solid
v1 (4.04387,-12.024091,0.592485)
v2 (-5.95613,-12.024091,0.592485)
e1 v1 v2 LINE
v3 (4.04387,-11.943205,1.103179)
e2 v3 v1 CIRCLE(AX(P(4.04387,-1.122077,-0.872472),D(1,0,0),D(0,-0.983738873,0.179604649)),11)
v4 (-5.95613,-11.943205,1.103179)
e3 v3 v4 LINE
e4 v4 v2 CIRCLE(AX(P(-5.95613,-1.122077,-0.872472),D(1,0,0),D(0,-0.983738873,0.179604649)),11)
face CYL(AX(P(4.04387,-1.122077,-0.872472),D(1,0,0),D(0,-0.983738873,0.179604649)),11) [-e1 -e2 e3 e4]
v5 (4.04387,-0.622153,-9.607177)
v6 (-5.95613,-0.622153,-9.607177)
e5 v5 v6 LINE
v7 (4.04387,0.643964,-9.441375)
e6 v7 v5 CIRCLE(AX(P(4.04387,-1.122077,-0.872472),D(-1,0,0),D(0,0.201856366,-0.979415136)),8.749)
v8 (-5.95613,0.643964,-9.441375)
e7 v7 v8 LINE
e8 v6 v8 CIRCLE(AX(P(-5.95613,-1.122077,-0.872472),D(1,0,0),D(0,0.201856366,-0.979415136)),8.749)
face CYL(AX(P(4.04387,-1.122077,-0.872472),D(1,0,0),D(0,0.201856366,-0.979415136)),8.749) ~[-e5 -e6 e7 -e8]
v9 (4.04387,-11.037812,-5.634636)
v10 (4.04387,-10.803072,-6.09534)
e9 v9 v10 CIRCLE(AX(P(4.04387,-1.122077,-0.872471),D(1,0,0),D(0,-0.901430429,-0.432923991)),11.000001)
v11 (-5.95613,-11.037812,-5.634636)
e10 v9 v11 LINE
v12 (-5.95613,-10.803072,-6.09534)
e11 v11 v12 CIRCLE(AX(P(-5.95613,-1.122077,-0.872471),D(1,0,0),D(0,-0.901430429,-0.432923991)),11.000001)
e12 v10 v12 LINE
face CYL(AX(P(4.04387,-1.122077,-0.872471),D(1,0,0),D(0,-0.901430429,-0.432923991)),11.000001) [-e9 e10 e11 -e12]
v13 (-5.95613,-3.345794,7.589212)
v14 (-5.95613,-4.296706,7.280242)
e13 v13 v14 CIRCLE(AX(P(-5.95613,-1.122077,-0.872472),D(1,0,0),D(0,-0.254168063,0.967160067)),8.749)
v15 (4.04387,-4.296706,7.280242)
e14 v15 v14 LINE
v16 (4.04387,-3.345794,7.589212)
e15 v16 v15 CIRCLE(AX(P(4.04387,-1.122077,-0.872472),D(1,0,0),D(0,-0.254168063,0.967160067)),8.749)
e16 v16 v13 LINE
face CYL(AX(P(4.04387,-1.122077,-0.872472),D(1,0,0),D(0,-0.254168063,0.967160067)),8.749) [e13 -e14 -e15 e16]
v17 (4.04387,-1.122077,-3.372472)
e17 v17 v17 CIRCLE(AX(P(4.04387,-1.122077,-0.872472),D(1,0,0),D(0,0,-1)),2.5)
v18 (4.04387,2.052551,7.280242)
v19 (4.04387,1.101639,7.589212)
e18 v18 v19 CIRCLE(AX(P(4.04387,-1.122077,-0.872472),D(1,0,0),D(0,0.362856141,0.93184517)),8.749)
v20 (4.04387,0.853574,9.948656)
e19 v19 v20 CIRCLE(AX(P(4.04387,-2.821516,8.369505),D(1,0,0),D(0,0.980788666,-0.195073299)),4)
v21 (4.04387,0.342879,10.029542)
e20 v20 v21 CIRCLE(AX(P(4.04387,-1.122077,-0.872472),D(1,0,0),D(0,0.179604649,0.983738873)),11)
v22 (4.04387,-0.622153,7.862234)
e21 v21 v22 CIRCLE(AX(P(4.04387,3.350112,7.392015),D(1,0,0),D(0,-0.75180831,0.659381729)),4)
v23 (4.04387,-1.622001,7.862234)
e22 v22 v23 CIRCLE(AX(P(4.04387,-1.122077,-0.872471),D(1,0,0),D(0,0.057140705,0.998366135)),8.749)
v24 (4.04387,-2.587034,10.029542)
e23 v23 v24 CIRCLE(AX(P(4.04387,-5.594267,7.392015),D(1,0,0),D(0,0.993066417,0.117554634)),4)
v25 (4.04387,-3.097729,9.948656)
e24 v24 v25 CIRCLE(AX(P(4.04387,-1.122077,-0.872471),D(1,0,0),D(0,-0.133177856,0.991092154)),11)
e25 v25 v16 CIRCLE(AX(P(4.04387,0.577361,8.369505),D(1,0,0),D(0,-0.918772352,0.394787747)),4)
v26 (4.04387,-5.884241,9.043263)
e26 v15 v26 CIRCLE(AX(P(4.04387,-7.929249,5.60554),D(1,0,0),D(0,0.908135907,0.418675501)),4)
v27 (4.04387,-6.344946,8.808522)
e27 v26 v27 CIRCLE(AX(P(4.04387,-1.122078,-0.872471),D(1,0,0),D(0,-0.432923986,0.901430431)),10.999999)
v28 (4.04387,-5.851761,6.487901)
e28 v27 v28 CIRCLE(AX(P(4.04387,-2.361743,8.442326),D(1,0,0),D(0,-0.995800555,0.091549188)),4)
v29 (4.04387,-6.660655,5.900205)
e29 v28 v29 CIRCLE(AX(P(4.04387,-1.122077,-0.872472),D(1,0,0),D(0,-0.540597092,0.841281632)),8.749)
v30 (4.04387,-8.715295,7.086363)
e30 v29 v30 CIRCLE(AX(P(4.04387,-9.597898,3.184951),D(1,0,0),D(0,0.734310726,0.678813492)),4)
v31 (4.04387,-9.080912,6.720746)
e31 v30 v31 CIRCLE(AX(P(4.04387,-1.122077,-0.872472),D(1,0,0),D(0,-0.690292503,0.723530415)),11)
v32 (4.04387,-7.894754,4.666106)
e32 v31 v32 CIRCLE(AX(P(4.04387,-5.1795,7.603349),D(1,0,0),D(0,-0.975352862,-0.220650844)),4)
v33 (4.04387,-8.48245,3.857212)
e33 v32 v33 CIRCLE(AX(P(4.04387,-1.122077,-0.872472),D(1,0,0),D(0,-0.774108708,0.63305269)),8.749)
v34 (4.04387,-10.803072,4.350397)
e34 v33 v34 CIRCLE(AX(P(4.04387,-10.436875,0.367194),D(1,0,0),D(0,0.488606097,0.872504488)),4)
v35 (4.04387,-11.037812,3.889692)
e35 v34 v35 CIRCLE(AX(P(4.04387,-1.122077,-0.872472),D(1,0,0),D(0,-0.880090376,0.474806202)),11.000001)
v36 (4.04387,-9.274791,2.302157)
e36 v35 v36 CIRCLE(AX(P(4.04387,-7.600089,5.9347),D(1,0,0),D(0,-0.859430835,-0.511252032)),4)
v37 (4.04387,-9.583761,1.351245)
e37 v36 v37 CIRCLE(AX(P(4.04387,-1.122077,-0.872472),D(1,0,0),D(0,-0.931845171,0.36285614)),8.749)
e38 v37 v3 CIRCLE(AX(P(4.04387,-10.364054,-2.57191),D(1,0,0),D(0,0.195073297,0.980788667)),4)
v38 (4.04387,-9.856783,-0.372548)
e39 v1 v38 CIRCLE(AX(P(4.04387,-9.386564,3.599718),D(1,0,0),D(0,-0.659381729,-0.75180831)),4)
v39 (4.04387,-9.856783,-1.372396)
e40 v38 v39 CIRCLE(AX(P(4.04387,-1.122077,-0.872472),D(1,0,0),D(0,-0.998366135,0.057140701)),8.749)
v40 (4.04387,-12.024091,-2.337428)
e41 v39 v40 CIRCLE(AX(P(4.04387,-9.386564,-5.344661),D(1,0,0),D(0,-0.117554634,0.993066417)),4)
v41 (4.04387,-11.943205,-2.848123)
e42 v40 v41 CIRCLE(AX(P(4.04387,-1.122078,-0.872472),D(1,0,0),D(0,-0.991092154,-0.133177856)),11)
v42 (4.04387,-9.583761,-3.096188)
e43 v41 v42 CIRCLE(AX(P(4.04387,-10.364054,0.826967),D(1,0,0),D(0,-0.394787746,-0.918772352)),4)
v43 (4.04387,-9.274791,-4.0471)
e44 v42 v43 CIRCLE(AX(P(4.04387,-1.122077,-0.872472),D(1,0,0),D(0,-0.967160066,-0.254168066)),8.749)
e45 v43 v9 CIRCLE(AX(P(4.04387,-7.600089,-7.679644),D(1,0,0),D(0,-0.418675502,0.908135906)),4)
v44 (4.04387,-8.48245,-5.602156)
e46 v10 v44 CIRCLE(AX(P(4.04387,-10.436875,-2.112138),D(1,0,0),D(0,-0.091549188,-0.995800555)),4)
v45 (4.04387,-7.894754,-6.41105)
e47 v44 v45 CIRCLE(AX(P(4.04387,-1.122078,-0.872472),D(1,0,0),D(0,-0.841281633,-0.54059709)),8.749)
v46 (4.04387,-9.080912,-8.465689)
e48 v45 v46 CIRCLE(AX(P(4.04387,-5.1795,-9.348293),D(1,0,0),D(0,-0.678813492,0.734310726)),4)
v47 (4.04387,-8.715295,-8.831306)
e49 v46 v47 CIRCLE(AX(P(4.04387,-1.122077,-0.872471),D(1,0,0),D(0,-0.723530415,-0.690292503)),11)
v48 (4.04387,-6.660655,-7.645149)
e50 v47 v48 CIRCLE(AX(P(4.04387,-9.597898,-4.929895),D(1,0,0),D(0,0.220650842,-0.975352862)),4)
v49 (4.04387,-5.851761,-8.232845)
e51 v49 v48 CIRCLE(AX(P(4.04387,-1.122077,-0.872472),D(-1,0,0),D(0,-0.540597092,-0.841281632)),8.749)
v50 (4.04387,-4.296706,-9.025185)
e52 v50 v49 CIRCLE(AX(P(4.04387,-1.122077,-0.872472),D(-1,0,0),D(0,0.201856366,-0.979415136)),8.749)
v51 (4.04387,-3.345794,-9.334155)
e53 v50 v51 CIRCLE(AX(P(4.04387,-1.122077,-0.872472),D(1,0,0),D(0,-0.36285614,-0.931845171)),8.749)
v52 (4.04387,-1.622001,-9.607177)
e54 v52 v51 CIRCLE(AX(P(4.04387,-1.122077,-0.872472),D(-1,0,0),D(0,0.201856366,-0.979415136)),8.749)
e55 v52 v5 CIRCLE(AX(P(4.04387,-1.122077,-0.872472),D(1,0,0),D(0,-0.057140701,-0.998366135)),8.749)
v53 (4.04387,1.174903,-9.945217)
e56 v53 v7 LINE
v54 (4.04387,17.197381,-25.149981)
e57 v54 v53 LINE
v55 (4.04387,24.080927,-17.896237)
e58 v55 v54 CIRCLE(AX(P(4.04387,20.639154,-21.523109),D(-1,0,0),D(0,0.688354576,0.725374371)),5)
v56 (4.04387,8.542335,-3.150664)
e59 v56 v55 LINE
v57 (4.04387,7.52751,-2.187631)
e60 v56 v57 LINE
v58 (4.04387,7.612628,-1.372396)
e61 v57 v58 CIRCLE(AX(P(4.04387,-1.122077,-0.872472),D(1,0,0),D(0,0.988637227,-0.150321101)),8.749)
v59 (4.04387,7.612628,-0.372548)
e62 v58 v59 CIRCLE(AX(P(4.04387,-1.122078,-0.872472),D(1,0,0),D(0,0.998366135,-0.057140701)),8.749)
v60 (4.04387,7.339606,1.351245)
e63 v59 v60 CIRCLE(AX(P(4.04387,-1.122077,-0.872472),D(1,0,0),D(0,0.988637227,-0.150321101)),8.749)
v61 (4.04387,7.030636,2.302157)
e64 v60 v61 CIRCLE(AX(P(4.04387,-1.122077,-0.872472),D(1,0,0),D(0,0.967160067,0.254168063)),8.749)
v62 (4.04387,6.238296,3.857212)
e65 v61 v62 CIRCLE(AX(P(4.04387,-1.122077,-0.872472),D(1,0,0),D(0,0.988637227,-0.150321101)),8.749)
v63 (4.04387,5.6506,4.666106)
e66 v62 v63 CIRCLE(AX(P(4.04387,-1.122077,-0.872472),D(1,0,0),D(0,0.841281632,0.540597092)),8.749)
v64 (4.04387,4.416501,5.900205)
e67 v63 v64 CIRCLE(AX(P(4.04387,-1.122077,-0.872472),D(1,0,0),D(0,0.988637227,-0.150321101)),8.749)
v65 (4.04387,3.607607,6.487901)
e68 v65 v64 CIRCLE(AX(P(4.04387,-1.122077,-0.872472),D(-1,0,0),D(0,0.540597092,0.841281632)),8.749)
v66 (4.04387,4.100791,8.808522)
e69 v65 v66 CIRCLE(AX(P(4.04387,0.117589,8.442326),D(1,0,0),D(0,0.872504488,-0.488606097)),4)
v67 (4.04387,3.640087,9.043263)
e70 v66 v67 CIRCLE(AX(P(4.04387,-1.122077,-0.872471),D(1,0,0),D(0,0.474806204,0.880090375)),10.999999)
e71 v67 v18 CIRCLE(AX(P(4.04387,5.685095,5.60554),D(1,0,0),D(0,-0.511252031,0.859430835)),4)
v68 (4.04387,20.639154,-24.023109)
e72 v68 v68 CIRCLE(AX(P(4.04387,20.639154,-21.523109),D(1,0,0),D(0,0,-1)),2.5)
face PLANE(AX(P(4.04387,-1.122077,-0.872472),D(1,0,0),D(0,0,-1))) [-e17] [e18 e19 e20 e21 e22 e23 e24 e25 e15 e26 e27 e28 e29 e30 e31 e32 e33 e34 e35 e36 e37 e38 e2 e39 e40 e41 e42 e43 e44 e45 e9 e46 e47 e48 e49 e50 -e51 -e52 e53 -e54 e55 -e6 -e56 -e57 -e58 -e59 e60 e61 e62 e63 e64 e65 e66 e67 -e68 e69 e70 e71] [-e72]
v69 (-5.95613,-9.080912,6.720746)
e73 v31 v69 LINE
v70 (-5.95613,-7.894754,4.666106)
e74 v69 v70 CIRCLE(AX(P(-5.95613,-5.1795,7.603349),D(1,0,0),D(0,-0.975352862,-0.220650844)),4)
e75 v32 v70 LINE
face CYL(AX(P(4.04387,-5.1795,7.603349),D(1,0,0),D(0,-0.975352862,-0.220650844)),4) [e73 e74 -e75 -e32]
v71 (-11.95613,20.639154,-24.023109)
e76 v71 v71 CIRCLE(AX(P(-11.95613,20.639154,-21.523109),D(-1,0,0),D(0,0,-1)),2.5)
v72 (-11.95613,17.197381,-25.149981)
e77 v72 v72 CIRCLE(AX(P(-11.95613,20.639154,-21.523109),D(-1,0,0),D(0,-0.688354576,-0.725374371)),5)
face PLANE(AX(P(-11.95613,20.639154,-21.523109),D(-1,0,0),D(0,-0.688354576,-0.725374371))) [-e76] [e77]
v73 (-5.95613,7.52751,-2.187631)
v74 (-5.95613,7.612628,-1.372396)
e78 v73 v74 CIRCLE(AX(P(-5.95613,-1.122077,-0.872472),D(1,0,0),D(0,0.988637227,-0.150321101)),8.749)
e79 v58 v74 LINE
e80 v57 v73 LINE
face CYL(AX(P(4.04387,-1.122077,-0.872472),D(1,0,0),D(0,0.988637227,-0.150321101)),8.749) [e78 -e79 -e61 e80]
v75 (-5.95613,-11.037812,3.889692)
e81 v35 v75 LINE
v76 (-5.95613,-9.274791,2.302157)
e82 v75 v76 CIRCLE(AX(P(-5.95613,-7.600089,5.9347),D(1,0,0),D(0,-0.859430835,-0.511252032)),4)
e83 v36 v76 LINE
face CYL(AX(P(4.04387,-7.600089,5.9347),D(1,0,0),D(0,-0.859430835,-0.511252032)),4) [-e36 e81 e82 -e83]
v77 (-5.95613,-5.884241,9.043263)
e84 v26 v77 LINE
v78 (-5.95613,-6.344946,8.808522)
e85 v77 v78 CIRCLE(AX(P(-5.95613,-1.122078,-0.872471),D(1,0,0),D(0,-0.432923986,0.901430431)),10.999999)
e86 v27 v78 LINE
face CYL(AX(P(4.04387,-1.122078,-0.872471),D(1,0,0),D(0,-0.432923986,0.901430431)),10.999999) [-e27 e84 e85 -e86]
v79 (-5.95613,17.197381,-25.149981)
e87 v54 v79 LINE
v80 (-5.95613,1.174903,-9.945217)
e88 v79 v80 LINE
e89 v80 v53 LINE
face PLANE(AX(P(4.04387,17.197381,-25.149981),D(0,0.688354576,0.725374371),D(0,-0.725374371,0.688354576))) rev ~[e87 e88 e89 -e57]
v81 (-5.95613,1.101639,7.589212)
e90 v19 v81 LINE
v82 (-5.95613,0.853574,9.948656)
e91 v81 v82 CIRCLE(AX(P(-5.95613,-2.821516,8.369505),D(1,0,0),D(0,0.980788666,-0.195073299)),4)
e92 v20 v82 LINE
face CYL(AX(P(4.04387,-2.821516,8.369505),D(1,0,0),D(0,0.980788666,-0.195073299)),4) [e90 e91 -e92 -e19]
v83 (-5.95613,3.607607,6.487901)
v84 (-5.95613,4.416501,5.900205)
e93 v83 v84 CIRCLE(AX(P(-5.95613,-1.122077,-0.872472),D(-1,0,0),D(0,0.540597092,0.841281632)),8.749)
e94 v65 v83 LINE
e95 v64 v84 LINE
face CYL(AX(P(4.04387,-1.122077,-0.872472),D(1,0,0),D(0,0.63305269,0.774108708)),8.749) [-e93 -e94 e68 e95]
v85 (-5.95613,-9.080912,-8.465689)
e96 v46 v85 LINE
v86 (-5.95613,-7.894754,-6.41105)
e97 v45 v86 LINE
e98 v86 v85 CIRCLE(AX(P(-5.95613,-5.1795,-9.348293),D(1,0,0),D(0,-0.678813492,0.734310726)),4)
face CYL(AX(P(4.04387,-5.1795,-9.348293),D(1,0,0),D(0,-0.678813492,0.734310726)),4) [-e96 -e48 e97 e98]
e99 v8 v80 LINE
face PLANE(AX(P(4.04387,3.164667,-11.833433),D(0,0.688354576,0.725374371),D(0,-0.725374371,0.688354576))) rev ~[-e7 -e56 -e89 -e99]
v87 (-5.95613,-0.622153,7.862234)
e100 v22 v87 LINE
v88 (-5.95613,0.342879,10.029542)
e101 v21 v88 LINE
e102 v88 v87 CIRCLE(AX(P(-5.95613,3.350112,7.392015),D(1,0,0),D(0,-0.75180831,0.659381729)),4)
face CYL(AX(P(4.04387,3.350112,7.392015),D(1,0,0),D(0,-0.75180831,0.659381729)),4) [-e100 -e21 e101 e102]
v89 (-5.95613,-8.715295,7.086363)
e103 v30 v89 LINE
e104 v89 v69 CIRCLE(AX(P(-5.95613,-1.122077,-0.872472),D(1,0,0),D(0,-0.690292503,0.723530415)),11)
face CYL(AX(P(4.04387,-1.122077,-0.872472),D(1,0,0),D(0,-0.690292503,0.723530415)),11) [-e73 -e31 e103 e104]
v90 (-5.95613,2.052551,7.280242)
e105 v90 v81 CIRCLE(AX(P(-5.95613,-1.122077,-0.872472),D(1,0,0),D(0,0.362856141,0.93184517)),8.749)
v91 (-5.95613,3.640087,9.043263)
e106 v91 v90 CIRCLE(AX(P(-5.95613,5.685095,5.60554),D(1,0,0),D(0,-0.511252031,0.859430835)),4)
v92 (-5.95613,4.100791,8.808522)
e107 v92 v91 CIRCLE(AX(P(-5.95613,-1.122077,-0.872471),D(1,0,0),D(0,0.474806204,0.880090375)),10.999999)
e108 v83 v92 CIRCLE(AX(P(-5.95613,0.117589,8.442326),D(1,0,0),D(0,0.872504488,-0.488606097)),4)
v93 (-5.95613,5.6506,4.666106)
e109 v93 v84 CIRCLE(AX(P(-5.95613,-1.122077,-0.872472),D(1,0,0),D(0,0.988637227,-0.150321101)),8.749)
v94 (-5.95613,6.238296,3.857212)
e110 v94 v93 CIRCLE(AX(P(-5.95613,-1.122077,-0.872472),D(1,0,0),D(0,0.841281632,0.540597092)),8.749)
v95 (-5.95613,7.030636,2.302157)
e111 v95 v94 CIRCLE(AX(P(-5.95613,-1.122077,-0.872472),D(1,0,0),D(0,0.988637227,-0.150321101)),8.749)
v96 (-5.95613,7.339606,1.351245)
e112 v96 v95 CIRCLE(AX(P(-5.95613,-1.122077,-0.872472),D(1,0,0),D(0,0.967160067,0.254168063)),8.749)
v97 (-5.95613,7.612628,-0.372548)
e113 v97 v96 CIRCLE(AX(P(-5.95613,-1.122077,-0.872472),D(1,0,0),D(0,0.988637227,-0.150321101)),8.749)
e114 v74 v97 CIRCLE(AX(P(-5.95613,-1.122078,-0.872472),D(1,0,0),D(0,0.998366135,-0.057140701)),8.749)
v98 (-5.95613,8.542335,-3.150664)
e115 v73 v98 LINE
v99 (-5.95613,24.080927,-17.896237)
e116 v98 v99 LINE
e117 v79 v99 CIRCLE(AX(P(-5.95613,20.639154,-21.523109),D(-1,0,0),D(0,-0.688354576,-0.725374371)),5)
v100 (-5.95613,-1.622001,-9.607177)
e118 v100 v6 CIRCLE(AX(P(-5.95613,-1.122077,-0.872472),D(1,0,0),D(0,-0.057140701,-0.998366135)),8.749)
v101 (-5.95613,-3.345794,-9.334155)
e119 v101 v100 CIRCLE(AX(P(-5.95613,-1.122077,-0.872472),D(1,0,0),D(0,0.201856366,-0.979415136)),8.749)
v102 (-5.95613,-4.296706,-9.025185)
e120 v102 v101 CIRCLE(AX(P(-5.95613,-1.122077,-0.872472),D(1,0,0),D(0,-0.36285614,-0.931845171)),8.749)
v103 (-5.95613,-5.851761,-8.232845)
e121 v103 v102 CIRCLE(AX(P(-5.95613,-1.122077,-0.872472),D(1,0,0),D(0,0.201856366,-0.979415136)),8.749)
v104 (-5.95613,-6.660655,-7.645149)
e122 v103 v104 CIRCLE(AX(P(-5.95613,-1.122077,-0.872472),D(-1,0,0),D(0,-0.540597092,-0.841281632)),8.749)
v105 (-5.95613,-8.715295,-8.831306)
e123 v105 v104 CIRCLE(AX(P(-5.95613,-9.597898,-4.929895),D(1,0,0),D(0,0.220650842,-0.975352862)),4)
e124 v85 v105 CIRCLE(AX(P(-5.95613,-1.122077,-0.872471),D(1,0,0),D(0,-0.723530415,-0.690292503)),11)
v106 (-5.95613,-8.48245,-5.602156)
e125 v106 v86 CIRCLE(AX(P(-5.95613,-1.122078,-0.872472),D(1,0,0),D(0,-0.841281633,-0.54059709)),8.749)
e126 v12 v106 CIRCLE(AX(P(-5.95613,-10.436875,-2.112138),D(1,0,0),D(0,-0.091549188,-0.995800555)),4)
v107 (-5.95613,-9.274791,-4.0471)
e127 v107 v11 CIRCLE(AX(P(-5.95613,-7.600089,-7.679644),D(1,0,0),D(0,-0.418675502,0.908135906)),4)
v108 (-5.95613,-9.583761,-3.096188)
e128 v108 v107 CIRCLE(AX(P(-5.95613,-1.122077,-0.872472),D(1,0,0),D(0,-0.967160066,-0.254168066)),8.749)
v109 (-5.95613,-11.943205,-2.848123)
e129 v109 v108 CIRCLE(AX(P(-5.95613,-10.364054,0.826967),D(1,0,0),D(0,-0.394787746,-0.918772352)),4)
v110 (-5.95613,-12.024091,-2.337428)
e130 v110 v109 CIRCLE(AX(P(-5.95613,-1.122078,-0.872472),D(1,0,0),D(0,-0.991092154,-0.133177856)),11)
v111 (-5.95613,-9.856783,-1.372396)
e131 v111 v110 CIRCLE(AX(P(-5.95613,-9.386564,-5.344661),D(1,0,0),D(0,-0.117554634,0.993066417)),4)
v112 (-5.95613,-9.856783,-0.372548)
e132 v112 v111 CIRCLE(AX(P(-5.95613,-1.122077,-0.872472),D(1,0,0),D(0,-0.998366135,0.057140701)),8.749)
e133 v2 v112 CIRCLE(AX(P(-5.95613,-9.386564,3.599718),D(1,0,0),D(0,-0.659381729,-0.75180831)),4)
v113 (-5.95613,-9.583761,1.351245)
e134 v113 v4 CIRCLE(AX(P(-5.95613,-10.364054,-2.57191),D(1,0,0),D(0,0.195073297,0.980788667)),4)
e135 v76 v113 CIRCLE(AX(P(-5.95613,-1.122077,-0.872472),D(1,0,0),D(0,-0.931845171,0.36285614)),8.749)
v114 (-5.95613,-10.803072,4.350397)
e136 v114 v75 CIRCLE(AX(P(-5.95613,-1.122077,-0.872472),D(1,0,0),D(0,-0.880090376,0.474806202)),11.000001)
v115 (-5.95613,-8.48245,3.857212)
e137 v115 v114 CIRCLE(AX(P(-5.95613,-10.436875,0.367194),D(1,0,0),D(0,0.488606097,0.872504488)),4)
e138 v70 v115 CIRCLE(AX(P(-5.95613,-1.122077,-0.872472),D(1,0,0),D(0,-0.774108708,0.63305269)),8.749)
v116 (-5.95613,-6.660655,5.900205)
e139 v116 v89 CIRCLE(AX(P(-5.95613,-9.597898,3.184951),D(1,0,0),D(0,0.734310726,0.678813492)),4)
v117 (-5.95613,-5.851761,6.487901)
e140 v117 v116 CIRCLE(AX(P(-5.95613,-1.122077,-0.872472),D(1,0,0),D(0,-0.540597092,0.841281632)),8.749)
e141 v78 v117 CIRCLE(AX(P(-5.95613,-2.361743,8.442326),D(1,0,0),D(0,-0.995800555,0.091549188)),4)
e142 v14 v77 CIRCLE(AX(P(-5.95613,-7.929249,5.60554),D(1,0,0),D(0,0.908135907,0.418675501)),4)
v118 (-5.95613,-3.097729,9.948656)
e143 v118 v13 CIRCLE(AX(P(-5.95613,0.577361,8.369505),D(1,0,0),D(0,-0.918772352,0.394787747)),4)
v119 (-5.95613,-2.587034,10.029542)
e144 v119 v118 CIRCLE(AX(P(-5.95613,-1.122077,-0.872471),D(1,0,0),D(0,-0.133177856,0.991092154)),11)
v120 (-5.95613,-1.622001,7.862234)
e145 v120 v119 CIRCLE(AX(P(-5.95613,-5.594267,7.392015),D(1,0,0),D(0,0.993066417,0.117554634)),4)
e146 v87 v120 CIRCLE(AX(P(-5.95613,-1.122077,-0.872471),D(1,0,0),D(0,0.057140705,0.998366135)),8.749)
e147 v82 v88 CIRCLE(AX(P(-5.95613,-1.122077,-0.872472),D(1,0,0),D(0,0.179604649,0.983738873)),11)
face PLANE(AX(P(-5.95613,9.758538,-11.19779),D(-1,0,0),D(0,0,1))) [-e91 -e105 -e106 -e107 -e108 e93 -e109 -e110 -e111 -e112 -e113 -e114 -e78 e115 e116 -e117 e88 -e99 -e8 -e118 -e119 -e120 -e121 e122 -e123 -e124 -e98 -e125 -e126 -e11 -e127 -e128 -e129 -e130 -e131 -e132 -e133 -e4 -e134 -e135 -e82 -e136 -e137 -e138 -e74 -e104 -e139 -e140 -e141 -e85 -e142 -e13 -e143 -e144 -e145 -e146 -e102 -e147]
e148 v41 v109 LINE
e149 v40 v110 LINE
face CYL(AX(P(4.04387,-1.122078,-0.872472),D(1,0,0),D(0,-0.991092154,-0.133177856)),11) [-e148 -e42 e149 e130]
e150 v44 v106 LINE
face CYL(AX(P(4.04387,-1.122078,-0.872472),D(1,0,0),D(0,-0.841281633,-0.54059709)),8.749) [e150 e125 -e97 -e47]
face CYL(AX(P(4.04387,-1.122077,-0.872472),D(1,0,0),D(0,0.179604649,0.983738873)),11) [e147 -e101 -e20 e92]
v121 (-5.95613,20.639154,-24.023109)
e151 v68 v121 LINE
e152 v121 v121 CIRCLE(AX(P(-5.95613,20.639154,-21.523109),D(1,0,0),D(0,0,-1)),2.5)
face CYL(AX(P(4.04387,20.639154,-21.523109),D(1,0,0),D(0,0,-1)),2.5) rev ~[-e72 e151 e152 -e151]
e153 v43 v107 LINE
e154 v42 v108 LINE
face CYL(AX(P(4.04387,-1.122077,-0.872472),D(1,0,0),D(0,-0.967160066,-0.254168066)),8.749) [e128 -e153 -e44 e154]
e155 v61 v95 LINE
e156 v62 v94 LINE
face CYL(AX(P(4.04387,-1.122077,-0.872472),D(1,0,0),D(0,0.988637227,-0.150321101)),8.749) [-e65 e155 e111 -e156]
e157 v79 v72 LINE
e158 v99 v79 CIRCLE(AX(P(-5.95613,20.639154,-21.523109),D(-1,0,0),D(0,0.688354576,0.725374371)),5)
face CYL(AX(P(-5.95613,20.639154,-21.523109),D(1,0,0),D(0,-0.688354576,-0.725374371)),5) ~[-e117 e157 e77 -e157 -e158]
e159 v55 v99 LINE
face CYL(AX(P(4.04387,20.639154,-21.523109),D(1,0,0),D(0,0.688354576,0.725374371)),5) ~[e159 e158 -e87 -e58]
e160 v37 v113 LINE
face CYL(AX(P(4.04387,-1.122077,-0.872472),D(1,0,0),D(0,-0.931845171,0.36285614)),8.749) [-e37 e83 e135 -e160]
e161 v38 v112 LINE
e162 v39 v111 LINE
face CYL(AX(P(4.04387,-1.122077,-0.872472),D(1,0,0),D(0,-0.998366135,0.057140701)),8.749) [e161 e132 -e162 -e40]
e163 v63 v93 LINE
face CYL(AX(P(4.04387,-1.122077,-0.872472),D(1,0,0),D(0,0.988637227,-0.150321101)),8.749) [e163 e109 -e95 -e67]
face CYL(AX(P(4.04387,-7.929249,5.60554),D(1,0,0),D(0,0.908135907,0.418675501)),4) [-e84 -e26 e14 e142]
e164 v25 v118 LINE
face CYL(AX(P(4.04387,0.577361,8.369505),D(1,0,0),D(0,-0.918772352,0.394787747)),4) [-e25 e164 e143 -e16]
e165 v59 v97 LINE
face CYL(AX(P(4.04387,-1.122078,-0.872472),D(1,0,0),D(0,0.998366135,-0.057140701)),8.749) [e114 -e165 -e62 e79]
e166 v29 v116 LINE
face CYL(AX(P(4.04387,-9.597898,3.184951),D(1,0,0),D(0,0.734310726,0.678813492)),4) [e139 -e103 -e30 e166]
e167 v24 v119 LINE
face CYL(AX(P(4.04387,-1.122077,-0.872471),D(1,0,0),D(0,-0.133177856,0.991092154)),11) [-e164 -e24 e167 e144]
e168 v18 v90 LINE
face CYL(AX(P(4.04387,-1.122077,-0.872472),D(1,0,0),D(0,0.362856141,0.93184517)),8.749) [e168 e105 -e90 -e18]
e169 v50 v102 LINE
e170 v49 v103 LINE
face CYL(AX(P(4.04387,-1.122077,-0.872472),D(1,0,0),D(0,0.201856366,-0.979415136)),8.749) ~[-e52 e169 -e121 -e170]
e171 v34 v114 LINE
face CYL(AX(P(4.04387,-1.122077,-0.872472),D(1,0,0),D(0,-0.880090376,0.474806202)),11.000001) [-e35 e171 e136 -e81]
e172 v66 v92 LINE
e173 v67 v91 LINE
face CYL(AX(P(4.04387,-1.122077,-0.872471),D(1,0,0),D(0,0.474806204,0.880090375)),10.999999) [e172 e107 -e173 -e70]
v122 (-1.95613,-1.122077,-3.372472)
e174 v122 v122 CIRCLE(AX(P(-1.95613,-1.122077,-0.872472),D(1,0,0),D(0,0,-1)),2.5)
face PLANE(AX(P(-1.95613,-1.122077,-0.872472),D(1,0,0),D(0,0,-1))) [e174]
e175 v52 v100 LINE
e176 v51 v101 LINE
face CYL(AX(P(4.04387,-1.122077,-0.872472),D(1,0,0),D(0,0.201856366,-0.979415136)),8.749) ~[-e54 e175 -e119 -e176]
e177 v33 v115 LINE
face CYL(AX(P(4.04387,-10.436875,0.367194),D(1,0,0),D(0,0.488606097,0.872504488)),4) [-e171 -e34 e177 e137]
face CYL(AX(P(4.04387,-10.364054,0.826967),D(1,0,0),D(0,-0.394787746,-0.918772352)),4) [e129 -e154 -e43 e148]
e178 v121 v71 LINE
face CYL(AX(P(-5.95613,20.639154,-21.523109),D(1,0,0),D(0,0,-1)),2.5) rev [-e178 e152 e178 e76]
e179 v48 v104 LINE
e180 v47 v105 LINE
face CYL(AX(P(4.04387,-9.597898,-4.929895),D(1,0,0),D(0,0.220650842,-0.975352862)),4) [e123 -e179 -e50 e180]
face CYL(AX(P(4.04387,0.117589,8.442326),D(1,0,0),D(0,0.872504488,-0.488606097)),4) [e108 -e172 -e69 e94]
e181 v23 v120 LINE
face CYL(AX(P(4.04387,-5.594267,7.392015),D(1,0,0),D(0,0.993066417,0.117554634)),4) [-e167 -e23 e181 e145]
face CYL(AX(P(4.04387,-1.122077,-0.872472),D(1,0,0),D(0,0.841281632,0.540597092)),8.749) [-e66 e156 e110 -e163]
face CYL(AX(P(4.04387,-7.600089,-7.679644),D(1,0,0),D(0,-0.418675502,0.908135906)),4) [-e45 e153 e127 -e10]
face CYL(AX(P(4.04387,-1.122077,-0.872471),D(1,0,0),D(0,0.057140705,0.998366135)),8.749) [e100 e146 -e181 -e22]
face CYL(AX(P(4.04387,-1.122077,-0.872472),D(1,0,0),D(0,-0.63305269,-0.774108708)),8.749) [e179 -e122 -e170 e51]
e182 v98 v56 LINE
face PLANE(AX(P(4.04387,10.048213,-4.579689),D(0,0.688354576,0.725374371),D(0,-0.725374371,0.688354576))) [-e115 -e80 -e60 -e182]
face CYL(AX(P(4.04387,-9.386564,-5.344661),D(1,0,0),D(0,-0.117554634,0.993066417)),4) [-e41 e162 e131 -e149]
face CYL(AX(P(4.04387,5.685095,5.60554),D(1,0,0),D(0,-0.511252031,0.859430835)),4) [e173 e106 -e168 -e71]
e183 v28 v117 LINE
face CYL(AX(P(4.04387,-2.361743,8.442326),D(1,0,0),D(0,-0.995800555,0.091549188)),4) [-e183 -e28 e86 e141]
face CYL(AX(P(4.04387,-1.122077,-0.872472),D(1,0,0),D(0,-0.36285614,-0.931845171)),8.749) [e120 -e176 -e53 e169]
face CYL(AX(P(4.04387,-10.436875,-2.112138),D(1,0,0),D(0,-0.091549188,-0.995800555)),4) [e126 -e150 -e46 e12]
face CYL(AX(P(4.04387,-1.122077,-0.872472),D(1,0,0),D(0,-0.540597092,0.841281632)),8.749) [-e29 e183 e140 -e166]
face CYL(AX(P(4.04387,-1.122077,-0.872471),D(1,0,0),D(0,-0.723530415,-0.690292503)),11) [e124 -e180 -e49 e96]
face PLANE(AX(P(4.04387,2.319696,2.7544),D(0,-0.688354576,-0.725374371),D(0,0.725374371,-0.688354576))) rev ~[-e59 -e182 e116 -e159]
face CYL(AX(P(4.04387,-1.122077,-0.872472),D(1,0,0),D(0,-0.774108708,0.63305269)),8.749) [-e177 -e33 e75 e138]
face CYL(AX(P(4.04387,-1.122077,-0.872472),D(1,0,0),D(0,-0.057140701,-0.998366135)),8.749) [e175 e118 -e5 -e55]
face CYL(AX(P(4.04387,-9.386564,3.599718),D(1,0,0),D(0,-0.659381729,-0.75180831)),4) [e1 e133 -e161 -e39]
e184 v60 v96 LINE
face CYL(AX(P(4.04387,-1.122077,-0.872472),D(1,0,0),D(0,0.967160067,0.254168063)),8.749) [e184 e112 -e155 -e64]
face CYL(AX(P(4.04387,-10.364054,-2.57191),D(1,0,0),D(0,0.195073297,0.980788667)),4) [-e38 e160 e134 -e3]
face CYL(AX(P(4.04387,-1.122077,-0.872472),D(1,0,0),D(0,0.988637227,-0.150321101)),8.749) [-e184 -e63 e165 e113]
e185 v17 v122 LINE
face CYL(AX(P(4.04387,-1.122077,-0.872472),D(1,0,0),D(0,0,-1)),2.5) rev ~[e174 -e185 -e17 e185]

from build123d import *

# Parameters (mm, degrees)
SKETCH1_R           = 2.5
BOSS_EXTRUDE1_DEPTH = 10
SKETCH2_R           = 2.5
BOSS_EXTRUDE2_DEPTH = 10
SKETCH3_R           = 5
SKETCH3_R_2         = 2.5
BOSS_EXTRUDE3_DEPTH = 6
SKETCH4_R           = 2.5
CUT_EXTRUDE1_DEPTH  = 6
CUT_EXTRUDE2_DEPTH  = 41.209967862


with BuildPart() as part:
    # Sketch1 → Boss-Extrude1 (new body)
    with BuildSketch(Plane(origin=(4.043870029, 0, 0), x_dir=(0, 0, -1), z_dir=(1, 0, 0))):
        with BuildLine():
            ThreePointArc((-10.029541992, 0.342879069), (-9.019080639, -0.304016541), (-7.862233613, -0.622153359))
            ThreePointArc((-7.862233613, -0.622153359), (-7.876528296, -1.122077366), (-7.862233613, -1.622001374))
            ThreePointArc((-7.862233613, -1.622001374), (-9.019080639, -1.940138191), (-10.029541992, -2.587033801))
            ThreePointArc((-10.029541992, -2.587033801), (-9.992100042, -2.842856482), (-9.948655897, -3.097728508))
            ThreePointArc((-9.948655897, -3.097728508), (-8.787748306, -3.400713063), (-7.58921172, -3.345793765))
            ThreePointArc((-7.58921172, -3.345793765), (-7.448321757, -3.82566705), (-7.280241692, -4.296705735))
            ThreePointArc((-7.280241692, -4.296705735), (-8.282158911, -4.956757219), (-9.043263028, -5.884241235))
            ThreePointArc((-9.043263028, -5.884241235), (-8.928600062, -6.115972863), (-8.808522437, -6.344945585))
            ThreePointArc((-8.808522437, -6.344945585), (-7.610806331, -6.274360846), (-6.487901298, -5.851761317))
            ThreePointArc((-6.487901298, -5.851761317), (-6.20561798, -6.264610538), (-5.90020538, -6.660655353))
            ThreePointArc((-5.90020538, -6.660655353), (-6.649118154, -7.598011066), (-7.086362862, -8.715294889))
            ThreePointArc((-7.086362862, -8.715294889), (-6.905702889, -8.900251959), (-6.720745819, -9.080911932))
            ThreePointArc((-6.720745819, -9.080911932), (-5.603461996, -8.643667224), (-4.666106283, -7.89475445))
            ThreePointArc((-4.666106283, -7.89475445), (-4.270061468, -8.20016705), (-3.857212247, -8.482450368))
            ThreePointArc((-3.857212247, -8.482450368), (-4.279811776, -9.605355401), (-4.350396515, -10.803071507))
            ThreePointArc((-4.350396515, -10.803071507), (-4.121423793, -10.923149132), (-3.889692165, -11.037812099))
            ThreePointArc((-3.889692165, -11.037812099), (-2.962208149, -10.276707981), (-2.302156665, -9.274790762))
            ThreePointArc((-2.302156665, -9.274790762), (-1.83111798, -9.442870827), (-1.351244695, -9.583760791))
            ThreePointArc((-1.351244695, -9.583760791), (-1.406163992, -10.782297376), (-1.103179437, -11.943204968))
            ThreePointArc((-1.103179437, -11.943204968), (-0.848307411, -11.986649113), (-0.592484731, -12.024091063))
            ThreePointArc((-0.592484731, -12.024091063), (0.054410879, -11.01362971), (0.372547697, -9.856782684))
            ThreePointArc((0.372547697, -9.856782684), (0.872471704, -9.871077366), (1.372395712, -9.856782684))
            ThreePointArc((1.372395712, -9.856782684), (1.690532529, -11.01362971), (2.337428139, -12.024091063))
            ThreePointArc((2.337428139, -12.024091063), (2.59325082, -11.986649113), (2.848122846, -11.943204968))
            ThreePointArc((2.848122846, -11.943204968), (3.151107401, -10.782297376), (3.096188103, -9.583760791))
            ThreePointArc((3.096188103, -9.583760791), (3.576061388, -9.442870827), (4.047100073, -9.274790762))
            ThreePointArc((4.047100073, -9.274790762), (4.707151558, -10.276707981), (5.634635573, -11.037812099))
            ThreePointArc((5.634635573, -11.037812099), (5.866367201, -10.923149132), (6.095339923, -10.803071507))
            ThreePointArc((6.095339923, -10.803071507), (6.024755184, -9.605355401), (5.602155655, -8.482450368))
            ThreePointArc((5.602155655, -8.482450368), (6.015004877, -8.20016705), (6.411049691, -7.89475445))
            ThreePointArc((6.411049691, -7.89475445), (7.348405404, -8.643667224), (8.465689227, -9.080911932))
            ThreePointArc((8.465689227, -9.080911932), (8.650646297, -8.900251959), (8.83130627, -8.715294889))
            ThreePointArc((8.83130627, -8.715294889), (8.394061563, -7.598011066), (7.645148788, -6.660655353))
            ThreePointArc((7.645148788, -6.660655353), (7.950561388, -6.264610538), (8.232844706, -5.851761317))
            ThreePointArc((8.232844706, -5.851761317), (9.355749739, -6.274360846), (10.553465846, -6.344945585))
            ThreePointArc((10.553465846, -6.344945585), (10.67354347, -6.115972863), (10.788206437, -5.884241235))
            ThreePointArc((10.788206437, -5.884241235), (10.02710232, -4.956757219), (9.0251851, -4.296705735))
            ThreePointArc((9.0251851, -4.296705735), (9.193265165, -3.82566705), (9.334155129, -3.345793765))
            ThreePointArc((9.334155129, -3.345793765), (10.532691714, -3.400713063), (11.693599306, -3.097728508))
            ThreePointArc((11.693599306, -3.097728508), (11.737043451, -2.842856482), (11.774485401, -2.587033801))
            ThreePointArc((11.774485401, -2.587033801), (10.764024048, -1.940138191), (9.607177022, -1.622001374))
            ThreePointArc((9.607177022, -1.622001374), (9.621471704, -1.122077366), (9.607177022, -0.622153359))
            ThreePointArc((9.607177022, -0.622153359), (10.764024048, -0.304016541), (11.774485401, 0.342879069))
            ThreePointArc((11.774485401, 0.342879069), (11.737043451, 0.598701749), (11.693599306, 0.853573775))
            ThreePointArc((11.693599306, 0.853573775), (10.532691714, 1.156558331), (9.334155129, 1.101639033))
            ThreePointArc((9.334155129, 1.101639033), (9.193265165, 1.581512318), (9.0251851, 2.052551003))
            ThreePointArc((9.0251851, 2.052551003), (10.02710232, 2.712602487), (10.788206437, 3.640086503))
            ThreePointArc((10.788206437, 3.640086503), (10.67354347, 3.871818131), (10.553465846, 4.100790853))
            ThreePointArc((10.553465846, 4.100790853), (9.355749739, 4.030206114), (8.232844706, 3.607606585))
            ThreePointArc((8.232844706, 3.607606585), (7.950561388, 4.020455806), (7.645148788, 4.416500621))
            ThreePointArc((7.645148788, 4.416500621), (8.394061563, 5.353856334), (8.83130627, 6.471140157))
            ThreePointArc((8.83130627, 6.471140157), (8.650646297, 6.656097227), (8.465689227, 6.8367572))
            ThreePointArc((8.465689227, 6.8367572), (7.348405404, 6.399512492), (6.411049691, 5.650599718))
            ThreePointArc((6.411049691, 5.650599718), (6.015004877, 5.956012318), (5.602155655, 6.238295636))
            ThreePointArc((5.602155655, 6.238295636), (6.024755184, 7.361200669), (6.095339923, 8.558916775))
            ThreePointArc((6.095339923, 8.558916775), (5.866367201, 8.6789944), (5.634635573, 8.793657366))
            ThreePointArc((5.634635573, 8.793657366), (4.707151558, 8.032553249), (4.047100073, 7.03063603))
            ThreePointArc((4.047100073, 7.03063603), (3.576061388, 7.198716095), (3.096188103, 7.339606058))
            ThreePointArc((3.096188103, 7.339606058), (3.151107401, 8.538142644), (2.848122846, 9.699050235))
            ThreePointArc((2.848122846, 9.699050235), (2.59325082, 9.74249438), (2.337428139, 9.779936331))
            ThreePointArc((2.337428139, 9.779936331), (1.690532529, 8.769474978), (1.372395712, 7.612627952))
            ThreePointArc((1.372395712, 7.612627952), (0.872471704, 7.626922634), (0.372547697, 7.612627952))
            ThreePointArc((0.372547697, 7.612627952), (0.054410879, 8.769474978), (-0.592484731, 9.779936331))
            ThreePointArc((-0.592484731, 9.779936331), (-0.848307411, 9.74249438), (-1.103179437, 9.699050235))
            ThreePointArc((-1.103179437, 9.699050235), (-1.406163992, 8.538142644), (-1.351244695, 7.339606058))
            ThreePointArc((-1.351244695, 7.339606058), (-1.83111798, 7.198716095), (-2.302156665, 7.03063603))
            ThreePointArc((-2.302156665, 7.03063603), (-2.962208149, 8.032553249), (-3.889692165, 8.793657366))
            ThreePointArc((-3.889692165, 8.793657366), (-4.121423793, 8.6789944), (-4.350396515, 8.558916775))
            ThreePointArc((-4.350396515, 8.558916775), (-4.279811776, 7.361200669), (-3.857212247, 6.238295636))
            ThreePointArc((-3.857212247, 6.238295636), (-4.270061468, 5.956012318), (-4.666106283, 5.650599718))
            ThreePointArc((-4.666106283, 5.650599718), (-5.603461996, 6.399512492), (-6.720745819, 6.8367572))
            ThreePointArc((-6.720745819, 6.8367572), (-6.905702889, 6.656097227), (-7.086362862, 6.471140157))
            ThreePointArc((-7.086362862, 6.471140157), (-6.649118154, 5.353856334), (-5.90020538, 4.416500621))
            ThreePointArc((-5.90020538, 4.416500621), (-6.20561798, 4.020455806), (-6.487901298, 3.607606585))
            ThreePointArc((-6.487901298, 3.607606585), (-7.610806331, 4.030206114), (-8.808522437, 4.100790853))
            ThreePointArc((-8.808522437, 4.100790853), (-8.928600062, 3.871818131), (-9.043263028, 3.640086503))
            ThreePointArc((-9.043263028, 3.640086503), (-8.282158911, 2.712602487), (-7.280241692, 2.052551003))
            ThreePointArc((-7.280241692, 2.052551003), (-7.448321757, 1.581512318), (-7.58921172, 1.101639033))
            ThreePointArc((-7.58921172, 1.101639033), (-8.787748306, 1.156558331), (-9.948655897, 0.853573775))
            ThreePointArc((-9.948655897, 0.853573775), (-9.992100042, 0.598701749), (-10.029541992, 0.342879069))
        make_face()
        with Locations(Location((0.872471704, -1.122077366, 0), (0, 0, 180))):
            Circle(SKETCH1_R, mode=Mode.SUBTRACT)
    extrude(amount=-BOSS_EXTRUDE1_DEPTH)

    # Sketch2 → Boss-Extrude2 (add)
    with BuildSketch(Plane(origin=(4.043870029, 0, 0), x_dir=(0, 0, -1), z_dir=(1, 0, 0))):
        with BuildLine():
            Line((-2.754400151, 2.319695512), (17.89623712, 24.080926643))
            ThreePointArc((17.89623712, 24.080926643), (24.964881853, 24.266025619), (25.14998083, 17.197380886))
            Line((25.14998083, 17.197380886), (4.499343559, -4.563850245))
            ThreePointArc((4.499343559, -4.563850245), (-2.569301174, -4.748949221), (-2.754400151, 2.319695512))
        make_face()
        with Locations((21.523108975, 20.639153764)):
            Circle(SKETCH2_R, mode=Mode.SUBTRACT)
    extrude(amount=-BOSS_EXTRUDE2_DEPTH)

    # Sketch3 → Boss-Extrude3 (add)
    with BuildSketch(Plane.ZY.offset(5.956129971)):
        with Locations(Location((-21.523108975, 20.639153764, 0), (0, 0, 223.5))):
            Circle(SKETCH3_R)
        with Locations(Location((-21.523108975, 20.639153764, 0), (0, 0, 180))):
            Circle(SKETCH3_R_2, mode=Mode.SUBTRACT)
    extrude(amount=BOSS_EXTRUDE3_DEPTH)

    # Sketch4 → Cut-Extrude1 (cut)
    with BuildSketch(Plane(origin=(4.043870029, 0, 0), x_dir=(0, 0, -1), z_dir=(1, 0, 0))):
        with Locations((0.872471704, -1.122077366)):
            Circle(SKETCH4_R)
    extrude(amount=-CUT_EXTRUDE1_DEPTH, mode=Mode.SUBTRACT)

    # Sketch6 → Cut-Extrude2 (cut, through all)
    with BuildSketch(Plane(origin=(4.043870029, 0, 0), x_dir=(0, 0, -1), z_dir=(1, 0, 0))):
        with BuildLine():
            Line((4.579688985, 10.048212881), (2.187631015, 7.527509733))
            ThreePointArc((2.187631015, 7.527509733), (-2.46576826, 6.965020688), (-6.16100093, 4.08131227))
            Line((-6.16100093, 4.08131227), (-8.58915512, 5.877669916))
            ThreePointArc((-8.58915512, 5.877669916), (-2.68093011, 10.098091069), (4.579688985, 10.048212881))
        make_face()
        with BuildLine():
            Line((11.833432695, 3.164667124), (9.441374725, 0.643963976))
            ThreePointArc((9.441374725, 0.643963976), (9.424184018, -2.969566881), (7.948146758, -6.267932352))
            Line((7.948146758, -6.267932352), (10.39087042, -8.044427405))
            ThreePointArc((10.39087042, -8.044427405), (12.54560297, -2.624359175), (11.833432695, 3.164667124))
        make_face()
    extrude(amount=-CUT_EXTRUDE2_DEPTH, mode=Mode.SUBTRACT)


solid = part.part
